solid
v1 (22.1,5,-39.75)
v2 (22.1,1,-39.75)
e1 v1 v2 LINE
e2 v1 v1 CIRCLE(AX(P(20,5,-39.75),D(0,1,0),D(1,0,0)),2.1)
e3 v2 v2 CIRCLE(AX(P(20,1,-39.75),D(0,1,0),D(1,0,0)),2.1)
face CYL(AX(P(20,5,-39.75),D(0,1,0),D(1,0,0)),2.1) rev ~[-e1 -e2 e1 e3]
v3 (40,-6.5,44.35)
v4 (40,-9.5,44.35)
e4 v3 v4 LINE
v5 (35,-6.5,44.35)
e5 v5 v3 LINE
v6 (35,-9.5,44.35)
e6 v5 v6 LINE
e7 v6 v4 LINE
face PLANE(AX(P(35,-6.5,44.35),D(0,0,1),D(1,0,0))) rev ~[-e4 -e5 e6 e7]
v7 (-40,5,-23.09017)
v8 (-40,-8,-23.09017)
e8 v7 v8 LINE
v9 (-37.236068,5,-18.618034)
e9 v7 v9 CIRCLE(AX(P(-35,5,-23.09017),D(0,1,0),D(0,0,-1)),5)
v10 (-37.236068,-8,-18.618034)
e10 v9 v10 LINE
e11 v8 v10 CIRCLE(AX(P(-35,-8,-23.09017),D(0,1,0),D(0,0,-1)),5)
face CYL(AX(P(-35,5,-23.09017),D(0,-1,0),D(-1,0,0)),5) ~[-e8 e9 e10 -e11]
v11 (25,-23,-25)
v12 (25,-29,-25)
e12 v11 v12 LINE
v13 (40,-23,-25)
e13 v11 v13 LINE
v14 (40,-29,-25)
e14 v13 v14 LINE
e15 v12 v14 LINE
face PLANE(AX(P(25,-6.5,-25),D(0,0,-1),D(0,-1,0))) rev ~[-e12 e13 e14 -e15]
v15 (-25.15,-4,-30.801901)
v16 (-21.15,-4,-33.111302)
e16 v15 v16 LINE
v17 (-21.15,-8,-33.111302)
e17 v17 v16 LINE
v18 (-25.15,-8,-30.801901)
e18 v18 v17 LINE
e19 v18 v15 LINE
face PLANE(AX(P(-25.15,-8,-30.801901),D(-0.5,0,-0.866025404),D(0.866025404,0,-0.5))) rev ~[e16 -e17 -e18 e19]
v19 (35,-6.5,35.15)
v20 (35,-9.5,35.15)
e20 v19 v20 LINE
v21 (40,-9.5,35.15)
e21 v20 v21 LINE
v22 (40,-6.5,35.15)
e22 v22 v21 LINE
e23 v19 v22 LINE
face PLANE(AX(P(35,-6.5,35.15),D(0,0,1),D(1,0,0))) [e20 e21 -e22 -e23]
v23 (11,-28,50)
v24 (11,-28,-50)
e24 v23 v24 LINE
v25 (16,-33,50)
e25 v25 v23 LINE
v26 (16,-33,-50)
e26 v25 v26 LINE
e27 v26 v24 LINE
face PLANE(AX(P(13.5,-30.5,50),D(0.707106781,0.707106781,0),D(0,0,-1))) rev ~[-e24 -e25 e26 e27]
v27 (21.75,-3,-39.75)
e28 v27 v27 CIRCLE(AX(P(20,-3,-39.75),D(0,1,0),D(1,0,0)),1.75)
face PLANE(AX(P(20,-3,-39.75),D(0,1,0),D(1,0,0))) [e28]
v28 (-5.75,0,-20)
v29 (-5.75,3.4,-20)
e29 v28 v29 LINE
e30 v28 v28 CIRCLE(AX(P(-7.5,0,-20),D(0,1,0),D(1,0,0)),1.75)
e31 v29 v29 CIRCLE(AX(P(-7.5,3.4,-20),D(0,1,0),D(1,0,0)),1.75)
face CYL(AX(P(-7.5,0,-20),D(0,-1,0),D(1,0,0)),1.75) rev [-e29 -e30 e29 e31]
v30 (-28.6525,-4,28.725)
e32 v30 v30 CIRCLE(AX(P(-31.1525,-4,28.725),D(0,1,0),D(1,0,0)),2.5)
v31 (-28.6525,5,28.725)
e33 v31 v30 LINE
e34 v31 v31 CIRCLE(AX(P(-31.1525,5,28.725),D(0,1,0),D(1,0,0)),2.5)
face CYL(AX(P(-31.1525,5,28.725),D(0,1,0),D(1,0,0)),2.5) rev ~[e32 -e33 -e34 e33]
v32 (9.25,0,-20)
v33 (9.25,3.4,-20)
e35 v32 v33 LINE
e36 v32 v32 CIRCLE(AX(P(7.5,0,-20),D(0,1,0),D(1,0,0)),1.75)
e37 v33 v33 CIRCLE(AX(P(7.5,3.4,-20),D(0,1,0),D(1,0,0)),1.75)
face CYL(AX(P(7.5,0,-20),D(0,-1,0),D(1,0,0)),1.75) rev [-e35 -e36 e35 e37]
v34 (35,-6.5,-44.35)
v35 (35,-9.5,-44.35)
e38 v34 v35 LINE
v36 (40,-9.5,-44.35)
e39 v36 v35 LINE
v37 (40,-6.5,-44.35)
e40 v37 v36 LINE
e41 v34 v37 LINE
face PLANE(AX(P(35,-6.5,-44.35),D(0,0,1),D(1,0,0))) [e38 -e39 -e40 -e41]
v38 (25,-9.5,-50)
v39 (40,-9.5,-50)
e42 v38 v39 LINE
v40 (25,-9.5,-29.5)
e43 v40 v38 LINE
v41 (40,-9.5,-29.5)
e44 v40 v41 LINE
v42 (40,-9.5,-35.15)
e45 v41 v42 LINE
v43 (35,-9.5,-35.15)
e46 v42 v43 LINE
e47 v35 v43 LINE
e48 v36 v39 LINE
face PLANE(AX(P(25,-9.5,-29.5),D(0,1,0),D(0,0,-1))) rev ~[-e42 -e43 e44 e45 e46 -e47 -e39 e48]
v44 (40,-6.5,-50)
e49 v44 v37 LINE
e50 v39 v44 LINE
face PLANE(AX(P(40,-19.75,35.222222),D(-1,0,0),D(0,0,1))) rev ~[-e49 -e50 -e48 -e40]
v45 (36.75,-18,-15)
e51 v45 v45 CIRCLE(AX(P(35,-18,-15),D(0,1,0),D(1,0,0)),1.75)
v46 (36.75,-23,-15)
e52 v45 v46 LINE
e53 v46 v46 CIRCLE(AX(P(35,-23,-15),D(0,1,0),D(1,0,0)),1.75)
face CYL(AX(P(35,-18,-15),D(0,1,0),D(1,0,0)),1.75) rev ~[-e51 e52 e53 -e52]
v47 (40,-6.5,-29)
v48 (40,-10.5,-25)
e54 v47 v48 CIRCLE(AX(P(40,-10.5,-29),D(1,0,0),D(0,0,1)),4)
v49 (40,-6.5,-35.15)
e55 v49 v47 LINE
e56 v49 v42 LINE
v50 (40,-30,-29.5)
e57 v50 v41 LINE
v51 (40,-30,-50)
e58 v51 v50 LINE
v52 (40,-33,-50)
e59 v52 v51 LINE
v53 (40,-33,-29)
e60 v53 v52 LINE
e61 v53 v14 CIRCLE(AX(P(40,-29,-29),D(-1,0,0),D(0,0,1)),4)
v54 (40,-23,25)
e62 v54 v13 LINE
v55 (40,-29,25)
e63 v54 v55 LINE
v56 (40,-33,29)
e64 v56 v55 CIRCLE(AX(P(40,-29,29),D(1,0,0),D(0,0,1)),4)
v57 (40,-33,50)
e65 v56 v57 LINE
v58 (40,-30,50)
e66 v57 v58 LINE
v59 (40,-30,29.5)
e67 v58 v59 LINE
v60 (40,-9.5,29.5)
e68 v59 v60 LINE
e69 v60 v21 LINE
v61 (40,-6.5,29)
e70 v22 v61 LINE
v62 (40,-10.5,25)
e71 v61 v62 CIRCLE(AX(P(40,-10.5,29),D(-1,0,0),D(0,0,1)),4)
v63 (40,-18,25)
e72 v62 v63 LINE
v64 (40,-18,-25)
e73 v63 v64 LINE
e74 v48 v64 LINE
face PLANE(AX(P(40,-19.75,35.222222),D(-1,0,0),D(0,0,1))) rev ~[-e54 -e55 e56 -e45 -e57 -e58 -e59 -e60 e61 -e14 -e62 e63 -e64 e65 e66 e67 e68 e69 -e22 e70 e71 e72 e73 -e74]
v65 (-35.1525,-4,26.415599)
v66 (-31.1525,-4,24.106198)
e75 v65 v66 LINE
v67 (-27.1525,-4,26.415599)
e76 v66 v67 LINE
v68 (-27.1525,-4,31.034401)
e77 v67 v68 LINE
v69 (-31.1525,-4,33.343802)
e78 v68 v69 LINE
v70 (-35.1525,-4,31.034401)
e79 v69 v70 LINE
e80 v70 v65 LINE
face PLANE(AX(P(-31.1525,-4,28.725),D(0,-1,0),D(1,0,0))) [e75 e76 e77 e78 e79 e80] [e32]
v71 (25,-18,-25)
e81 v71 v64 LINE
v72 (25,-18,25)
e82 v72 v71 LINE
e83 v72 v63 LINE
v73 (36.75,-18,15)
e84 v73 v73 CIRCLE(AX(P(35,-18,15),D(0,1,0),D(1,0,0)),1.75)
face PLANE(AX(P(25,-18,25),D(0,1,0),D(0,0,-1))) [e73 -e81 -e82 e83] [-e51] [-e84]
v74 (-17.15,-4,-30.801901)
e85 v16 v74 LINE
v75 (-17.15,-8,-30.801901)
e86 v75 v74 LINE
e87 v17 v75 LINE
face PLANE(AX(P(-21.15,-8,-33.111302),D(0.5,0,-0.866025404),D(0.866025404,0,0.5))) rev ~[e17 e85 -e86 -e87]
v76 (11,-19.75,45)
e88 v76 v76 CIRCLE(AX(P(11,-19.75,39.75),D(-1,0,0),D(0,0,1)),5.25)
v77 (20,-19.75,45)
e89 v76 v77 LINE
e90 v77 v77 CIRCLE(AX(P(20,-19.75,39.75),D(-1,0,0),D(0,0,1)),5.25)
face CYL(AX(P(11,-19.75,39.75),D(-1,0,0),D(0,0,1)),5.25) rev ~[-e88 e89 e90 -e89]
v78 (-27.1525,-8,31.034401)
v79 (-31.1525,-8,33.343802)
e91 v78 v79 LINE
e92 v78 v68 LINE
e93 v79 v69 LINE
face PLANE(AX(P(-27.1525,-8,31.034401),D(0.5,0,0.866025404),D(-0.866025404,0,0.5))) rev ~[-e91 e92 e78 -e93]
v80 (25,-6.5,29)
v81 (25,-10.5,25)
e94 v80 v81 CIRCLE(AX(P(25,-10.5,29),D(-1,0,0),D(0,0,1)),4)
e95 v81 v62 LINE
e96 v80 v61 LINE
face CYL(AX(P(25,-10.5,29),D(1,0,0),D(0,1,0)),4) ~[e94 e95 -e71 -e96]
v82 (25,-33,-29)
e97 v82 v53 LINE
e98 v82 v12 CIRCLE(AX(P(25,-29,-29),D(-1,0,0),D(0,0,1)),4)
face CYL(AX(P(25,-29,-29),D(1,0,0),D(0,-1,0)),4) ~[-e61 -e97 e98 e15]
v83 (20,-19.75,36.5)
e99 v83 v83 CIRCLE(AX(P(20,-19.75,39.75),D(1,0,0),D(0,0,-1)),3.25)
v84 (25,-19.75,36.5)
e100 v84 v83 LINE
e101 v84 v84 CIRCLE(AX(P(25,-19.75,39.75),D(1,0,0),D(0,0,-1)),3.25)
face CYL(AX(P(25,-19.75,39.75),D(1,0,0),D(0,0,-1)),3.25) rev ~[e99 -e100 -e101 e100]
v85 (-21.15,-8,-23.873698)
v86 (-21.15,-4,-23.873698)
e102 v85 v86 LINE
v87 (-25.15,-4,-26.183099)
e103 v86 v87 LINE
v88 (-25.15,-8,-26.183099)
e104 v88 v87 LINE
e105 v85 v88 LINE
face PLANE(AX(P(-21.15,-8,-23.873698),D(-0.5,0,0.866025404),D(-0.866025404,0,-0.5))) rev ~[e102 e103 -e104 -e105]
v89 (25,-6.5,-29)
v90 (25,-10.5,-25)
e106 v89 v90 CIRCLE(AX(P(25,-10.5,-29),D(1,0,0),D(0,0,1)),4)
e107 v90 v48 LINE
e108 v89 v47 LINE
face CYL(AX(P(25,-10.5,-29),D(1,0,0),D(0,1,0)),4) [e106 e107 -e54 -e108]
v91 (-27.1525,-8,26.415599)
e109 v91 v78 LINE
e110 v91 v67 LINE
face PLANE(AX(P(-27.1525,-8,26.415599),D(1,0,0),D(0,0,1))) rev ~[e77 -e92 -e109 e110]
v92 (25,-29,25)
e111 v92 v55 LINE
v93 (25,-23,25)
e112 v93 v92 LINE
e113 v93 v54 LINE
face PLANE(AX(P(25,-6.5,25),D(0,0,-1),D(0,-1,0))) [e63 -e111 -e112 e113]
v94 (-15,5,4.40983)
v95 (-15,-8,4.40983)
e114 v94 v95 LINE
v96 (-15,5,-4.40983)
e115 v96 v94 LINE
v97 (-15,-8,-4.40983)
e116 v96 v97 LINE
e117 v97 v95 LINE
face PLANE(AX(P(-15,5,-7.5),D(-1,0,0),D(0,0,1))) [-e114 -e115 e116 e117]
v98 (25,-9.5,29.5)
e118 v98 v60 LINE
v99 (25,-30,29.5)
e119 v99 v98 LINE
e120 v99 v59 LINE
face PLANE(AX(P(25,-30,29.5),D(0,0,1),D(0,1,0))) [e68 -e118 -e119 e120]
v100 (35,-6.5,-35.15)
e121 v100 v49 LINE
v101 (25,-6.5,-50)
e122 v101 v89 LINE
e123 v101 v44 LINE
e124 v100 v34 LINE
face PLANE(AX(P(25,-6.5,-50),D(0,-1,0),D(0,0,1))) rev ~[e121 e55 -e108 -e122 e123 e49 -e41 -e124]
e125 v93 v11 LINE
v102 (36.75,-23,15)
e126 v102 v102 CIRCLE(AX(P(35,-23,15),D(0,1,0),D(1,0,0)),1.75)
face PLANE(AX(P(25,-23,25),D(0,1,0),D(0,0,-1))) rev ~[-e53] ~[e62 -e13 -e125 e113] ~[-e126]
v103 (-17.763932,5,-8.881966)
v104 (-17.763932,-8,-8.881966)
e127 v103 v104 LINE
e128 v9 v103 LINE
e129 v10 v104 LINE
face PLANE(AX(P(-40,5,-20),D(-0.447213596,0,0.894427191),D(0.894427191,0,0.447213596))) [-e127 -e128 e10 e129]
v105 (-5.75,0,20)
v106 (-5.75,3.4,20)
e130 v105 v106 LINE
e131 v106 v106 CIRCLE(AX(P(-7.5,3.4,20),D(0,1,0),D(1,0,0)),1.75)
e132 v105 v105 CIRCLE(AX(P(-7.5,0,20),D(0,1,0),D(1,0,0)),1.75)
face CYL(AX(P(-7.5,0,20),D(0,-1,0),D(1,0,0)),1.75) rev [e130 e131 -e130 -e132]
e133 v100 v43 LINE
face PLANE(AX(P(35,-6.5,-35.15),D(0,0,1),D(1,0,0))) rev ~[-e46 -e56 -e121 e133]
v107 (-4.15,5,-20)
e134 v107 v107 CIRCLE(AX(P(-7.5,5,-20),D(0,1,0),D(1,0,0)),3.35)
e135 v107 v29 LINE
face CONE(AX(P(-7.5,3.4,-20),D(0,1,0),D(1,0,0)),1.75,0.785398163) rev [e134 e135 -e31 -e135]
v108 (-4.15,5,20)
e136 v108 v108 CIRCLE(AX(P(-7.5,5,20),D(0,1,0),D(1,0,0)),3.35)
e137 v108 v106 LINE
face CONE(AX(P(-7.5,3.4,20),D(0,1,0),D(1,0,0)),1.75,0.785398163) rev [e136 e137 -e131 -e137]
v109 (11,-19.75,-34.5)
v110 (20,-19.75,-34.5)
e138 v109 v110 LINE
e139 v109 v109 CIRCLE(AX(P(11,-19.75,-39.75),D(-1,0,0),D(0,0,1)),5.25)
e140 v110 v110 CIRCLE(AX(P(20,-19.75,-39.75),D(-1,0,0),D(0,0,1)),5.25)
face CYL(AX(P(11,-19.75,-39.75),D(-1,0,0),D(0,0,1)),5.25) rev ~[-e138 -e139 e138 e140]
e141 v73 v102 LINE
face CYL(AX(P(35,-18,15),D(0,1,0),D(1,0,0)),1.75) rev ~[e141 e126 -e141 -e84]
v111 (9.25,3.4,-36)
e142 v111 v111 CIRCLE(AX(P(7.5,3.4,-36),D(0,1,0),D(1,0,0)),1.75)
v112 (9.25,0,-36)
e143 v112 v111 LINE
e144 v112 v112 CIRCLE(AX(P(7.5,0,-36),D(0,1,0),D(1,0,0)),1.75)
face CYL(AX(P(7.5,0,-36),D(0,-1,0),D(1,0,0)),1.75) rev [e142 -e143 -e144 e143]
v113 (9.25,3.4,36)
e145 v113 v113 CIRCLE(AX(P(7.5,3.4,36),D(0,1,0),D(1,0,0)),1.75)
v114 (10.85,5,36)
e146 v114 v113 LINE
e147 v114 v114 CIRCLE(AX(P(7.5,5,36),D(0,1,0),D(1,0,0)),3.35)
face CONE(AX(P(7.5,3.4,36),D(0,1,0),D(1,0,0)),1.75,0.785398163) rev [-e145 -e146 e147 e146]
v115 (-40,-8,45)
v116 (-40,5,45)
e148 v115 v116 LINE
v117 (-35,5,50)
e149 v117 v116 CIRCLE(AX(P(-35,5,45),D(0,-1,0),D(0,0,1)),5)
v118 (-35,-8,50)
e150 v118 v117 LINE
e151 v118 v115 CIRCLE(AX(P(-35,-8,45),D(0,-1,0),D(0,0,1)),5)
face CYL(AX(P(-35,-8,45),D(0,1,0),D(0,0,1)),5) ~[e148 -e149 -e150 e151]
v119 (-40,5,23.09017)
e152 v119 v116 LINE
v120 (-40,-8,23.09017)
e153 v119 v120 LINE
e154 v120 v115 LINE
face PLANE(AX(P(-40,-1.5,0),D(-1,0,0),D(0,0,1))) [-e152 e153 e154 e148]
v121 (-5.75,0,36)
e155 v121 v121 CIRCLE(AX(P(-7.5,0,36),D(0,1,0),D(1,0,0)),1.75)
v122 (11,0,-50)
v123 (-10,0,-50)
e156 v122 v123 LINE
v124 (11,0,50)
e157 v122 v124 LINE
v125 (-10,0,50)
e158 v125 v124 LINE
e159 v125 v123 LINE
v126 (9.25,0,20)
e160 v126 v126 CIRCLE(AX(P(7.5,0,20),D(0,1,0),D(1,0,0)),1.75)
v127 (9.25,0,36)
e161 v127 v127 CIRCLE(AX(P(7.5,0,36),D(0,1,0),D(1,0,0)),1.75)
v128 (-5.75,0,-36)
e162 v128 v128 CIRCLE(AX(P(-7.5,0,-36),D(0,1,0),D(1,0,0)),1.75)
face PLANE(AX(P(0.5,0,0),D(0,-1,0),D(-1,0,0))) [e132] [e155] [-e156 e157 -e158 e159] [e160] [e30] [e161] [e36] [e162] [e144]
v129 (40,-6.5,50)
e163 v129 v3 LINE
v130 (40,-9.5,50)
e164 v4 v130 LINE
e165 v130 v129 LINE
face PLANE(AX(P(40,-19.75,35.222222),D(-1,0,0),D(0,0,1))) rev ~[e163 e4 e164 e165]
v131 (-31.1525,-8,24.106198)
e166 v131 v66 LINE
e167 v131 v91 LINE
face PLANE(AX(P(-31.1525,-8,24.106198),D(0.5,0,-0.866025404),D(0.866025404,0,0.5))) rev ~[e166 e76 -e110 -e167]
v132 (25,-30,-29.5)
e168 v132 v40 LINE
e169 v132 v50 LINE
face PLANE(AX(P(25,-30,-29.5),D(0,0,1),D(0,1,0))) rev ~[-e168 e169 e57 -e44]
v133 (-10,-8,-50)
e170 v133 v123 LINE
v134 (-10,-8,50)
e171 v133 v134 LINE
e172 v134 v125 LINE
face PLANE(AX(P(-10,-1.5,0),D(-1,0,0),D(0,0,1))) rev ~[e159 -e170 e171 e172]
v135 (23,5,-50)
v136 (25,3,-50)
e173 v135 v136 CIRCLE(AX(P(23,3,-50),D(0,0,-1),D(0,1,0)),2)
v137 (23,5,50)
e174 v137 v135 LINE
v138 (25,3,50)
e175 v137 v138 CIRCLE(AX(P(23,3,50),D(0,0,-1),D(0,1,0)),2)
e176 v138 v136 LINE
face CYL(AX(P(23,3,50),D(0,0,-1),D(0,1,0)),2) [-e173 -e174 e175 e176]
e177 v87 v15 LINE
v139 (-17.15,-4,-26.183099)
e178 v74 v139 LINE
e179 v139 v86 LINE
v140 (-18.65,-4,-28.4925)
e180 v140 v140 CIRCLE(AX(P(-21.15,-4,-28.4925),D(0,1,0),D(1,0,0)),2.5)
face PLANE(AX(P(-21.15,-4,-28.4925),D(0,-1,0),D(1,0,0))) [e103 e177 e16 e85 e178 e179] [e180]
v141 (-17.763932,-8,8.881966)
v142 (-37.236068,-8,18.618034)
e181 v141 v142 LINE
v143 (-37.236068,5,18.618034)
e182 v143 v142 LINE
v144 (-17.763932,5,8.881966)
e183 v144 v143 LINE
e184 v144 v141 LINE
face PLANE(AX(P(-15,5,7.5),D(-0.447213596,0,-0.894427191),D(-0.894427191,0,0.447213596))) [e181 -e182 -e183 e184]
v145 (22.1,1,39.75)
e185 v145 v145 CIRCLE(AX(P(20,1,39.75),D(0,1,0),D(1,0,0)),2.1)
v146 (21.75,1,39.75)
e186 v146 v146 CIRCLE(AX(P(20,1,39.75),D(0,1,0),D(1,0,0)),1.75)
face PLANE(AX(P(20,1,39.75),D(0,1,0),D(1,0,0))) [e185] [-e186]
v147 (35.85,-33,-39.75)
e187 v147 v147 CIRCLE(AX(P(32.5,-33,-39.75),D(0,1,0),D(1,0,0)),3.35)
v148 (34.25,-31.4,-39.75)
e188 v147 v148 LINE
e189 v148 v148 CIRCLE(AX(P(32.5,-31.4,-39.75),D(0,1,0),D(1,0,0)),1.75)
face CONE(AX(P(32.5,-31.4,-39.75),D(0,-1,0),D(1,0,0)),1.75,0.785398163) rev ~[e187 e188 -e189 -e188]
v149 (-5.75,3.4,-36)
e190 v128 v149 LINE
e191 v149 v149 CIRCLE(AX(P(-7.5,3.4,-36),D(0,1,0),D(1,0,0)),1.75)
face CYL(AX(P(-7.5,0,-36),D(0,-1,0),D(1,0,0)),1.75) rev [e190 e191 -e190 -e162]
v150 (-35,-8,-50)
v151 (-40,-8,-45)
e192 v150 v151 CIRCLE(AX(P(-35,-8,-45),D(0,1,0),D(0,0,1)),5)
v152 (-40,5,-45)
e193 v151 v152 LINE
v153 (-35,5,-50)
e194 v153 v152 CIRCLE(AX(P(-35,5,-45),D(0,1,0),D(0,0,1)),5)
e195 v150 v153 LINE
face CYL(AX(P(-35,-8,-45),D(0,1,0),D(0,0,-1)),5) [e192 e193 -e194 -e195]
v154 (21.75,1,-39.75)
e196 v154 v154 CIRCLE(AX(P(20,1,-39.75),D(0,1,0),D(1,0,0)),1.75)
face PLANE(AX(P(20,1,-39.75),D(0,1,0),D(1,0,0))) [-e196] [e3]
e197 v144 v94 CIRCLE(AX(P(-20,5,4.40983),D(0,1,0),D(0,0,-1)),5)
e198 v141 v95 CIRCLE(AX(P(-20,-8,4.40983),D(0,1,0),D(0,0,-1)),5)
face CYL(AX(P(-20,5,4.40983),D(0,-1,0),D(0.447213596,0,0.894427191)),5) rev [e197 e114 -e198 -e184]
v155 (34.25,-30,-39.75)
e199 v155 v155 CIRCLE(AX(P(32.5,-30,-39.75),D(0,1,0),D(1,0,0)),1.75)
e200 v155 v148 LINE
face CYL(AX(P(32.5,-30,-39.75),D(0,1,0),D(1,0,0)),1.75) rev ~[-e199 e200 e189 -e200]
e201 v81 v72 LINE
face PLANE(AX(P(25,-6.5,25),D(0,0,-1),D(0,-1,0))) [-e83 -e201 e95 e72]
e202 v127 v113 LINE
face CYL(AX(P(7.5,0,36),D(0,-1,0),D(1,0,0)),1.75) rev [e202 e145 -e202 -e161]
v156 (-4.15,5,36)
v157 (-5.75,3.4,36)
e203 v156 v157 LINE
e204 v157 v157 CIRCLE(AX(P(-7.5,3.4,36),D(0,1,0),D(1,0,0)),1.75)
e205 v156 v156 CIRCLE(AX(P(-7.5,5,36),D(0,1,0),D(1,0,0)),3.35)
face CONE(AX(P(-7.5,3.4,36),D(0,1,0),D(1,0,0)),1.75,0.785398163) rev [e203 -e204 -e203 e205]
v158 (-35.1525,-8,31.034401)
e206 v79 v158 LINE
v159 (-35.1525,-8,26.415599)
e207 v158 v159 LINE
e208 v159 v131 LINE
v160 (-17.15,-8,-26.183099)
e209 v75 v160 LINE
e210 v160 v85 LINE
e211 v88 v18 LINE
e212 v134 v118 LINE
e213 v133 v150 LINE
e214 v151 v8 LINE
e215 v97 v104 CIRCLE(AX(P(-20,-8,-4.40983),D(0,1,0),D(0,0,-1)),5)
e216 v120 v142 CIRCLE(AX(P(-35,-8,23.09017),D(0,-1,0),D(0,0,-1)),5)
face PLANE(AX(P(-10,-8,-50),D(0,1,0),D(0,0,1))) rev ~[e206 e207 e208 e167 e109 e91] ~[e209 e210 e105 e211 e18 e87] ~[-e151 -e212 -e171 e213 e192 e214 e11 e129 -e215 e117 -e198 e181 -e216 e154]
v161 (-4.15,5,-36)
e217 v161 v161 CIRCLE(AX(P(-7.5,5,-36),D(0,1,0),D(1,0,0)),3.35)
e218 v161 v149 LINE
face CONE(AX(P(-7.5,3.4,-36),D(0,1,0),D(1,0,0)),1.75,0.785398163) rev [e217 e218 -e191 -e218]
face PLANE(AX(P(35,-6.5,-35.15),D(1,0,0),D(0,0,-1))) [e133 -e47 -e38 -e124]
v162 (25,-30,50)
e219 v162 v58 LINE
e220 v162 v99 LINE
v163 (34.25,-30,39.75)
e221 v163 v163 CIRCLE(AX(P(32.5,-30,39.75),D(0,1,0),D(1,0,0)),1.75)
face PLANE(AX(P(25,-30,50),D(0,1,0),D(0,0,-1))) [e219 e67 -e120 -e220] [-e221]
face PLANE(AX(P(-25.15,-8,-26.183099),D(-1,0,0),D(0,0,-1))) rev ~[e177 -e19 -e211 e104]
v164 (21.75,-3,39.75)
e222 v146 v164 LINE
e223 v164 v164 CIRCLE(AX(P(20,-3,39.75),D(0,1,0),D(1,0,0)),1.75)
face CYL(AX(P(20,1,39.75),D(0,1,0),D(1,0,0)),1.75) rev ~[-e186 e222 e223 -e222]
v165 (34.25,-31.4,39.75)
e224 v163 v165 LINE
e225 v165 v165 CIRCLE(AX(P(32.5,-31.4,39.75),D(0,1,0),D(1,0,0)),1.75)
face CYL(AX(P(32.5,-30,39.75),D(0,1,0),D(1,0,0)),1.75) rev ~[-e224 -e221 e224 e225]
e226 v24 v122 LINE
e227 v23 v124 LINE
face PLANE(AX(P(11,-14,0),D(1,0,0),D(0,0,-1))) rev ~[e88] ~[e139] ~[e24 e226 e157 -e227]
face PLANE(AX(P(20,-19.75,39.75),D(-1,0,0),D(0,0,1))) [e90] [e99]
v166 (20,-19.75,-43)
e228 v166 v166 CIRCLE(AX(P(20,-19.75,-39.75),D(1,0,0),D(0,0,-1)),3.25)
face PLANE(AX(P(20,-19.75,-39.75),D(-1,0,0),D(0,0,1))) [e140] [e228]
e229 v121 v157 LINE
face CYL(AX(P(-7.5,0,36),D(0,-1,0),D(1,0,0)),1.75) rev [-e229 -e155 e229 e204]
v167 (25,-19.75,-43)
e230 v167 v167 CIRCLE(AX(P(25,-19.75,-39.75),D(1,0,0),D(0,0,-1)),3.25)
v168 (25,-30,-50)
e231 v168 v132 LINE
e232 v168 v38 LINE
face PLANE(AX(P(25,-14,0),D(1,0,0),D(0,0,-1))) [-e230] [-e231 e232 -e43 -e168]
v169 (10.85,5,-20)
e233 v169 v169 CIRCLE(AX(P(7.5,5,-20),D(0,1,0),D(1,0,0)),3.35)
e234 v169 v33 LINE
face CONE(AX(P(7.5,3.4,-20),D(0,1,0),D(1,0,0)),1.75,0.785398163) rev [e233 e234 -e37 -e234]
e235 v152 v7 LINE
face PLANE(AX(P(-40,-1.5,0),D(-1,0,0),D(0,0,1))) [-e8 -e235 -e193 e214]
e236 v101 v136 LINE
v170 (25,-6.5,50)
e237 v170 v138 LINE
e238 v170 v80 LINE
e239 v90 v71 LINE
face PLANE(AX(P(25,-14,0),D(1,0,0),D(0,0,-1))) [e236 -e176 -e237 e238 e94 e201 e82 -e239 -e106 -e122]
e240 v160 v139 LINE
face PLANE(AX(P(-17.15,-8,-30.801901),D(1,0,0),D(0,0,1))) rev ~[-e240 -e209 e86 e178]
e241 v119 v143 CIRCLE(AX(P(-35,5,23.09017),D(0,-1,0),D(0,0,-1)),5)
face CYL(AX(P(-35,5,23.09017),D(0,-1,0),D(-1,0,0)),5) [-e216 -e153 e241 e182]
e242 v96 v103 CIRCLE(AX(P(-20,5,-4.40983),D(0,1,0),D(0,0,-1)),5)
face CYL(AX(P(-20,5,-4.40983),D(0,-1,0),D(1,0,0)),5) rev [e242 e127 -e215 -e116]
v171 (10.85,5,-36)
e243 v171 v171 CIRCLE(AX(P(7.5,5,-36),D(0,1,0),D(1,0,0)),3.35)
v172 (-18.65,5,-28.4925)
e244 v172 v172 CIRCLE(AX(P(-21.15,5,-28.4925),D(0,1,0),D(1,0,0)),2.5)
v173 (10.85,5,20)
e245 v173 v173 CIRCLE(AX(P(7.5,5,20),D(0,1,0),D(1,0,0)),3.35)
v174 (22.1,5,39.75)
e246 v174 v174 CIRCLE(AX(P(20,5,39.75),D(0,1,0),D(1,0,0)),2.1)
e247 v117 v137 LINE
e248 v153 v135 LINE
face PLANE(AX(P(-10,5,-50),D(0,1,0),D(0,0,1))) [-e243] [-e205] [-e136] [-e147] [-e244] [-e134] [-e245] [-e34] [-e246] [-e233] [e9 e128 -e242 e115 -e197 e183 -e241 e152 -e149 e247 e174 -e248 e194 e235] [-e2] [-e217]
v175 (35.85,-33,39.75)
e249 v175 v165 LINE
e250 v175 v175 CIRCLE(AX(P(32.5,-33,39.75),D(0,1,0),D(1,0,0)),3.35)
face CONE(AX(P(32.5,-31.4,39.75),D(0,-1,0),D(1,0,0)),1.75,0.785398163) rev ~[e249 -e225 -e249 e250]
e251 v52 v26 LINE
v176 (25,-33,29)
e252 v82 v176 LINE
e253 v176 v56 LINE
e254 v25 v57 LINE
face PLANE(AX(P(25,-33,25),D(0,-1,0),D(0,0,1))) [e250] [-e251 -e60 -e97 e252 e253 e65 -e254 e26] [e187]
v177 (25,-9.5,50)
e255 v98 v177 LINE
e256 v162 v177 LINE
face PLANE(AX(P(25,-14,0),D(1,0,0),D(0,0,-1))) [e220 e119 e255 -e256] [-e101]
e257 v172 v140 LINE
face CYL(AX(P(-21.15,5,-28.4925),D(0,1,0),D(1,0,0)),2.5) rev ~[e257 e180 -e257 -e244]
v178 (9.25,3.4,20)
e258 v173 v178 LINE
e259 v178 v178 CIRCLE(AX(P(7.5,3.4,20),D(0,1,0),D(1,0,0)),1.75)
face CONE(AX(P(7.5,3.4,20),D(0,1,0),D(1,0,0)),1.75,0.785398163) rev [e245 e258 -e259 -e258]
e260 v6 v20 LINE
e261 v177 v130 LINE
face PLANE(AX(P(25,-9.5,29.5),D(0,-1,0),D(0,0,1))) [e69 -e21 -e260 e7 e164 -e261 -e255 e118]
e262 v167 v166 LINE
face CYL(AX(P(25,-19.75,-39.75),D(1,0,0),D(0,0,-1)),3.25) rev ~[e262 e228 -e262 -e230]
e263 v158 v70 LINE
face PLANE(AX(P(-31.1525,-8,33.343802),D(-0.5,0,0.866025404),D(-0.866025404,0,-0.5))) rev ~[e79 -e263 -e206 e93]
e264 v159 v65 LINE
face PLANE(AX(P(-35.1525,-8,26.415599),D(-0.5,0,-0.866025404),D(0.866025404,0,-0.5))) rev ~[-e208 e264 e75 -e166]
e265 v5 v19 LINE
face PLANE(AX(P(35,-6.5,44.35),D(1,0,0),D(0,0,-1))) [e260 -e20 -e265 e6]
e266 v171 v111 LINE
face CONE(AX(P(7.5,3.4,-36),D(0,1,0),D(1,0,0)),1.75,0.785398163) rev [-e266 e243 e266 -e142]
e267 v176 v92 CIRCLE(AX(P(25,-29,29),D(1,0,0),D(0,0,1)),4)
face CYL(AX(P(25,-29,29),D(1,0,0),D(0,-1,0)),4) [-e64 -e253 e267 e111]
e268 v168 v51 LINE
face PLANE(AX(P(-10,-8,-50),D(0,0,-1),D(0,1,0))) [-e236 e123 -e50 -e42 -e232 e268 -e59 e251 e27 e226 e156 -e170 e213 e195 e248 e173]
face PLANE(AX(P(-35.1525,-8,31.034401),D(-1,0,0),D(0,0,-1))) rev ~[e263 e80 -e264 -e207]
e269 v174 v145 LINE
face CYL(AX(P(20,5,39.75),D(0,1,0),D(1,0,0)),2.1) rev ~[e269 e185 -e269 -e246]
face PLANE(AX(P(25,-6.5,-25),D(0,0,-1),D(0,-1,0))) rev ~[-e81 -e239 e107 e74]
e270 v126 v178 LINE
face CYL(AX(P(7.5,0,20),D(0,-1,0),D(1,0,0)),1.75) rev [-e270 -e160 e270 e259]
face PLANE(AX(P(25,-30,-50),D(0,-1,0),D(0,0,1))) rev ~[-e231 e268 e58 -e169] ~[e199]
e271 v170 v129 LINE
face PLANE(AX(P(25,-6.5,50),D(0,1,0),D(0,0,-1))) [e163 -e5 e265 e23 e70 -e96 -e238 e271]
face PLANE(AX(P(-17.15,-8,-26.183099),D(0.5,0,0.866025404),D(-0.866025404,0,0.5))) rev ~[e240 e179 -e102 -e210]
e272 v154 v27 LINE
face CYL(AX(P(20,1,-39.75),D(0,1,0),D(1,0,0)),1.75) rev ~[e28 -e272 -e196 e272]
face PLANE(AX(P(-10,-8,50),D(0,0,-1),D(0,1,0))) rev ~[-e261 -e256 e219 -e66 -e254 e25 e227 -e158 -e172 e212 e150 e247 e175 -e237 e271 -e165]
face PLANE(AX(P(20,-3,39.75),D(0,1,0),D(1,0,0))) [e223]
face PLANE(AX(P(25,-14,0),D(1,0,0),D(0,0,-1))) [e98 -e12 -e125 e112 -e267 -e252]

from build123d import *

# Parameters (mm, degrees)
SKETCH1_R           = 1.75
BOSS_EXTRUDE1_DEPTH = 5
SKETCH2_W           = 100
SKETCH2_H           = 38
BOSS_EXTRUDE2_DEPTH = 14
SKETCH3_W           = 50
SKETCH3_H           = 5
BOSS_EXTRUDE3_DEPTH = 15
SKETCH4_R           = 1.75
CUT_EXTRUDE1_DEPTH  = 16
BOSS_EXTRUDE6_DEPTH = 15
SKETCH9_R           = 3.25
CUT_EXTRUDE3_DEPTH  = 36
SKETCH10_R          = 5.25
CUT_EXTRUDE4_DEPTH  = 9
CUT_EXTRUDE5_REACH  = 28.5
SKETCH11_W          = 5
SKETCH11_H          = 9.2
SKETCH12_R          = 1.75
CUT_EXTRUDE6_DEPTH  = 4
SKETCH13_W          = 100
SKETCH13_H          = 13
BOSS_EXTRUDE7_DEPTH = 30
SKETCH14_R          = 2.5
CUT_EXTRUDE7_DEPTH  = 39
CUT_EXTRUDE8_DEPTH  = 4
SKETCH16_R          = 2.1
CUT_EXTRUDE9_DEPTH  = 4
CHAMFER1_SIZE       = 1.6
CUT_EXTRUDE10_DEPTH = 39
CHAMFER2_SIZE       = 1.6
CHAMFER3_SIZE       = 5
SKETCH18_R          = 1.75
CUT_EXTRUDE11_DEPTH = 4
FILLET1_R           = 5
FILLET2_R           = 2
FILLET3_R           = 4


with BuildPart() as part:
    # Sketch1 → Boss-Extrude1 (new body)
    with BuildSketch(Plane(origin=(0, 0, 0), x_dir=(1, 0, 0), z_dir=(0, 1, 0))):
        Polygon((-10, 50), (10, 50), (11, 50), (11, -50), (10, -50), (-10, -50), align=None)
        with Locations((-7.5, 36)):
            Circle(SKETCH1_R, mode=Mode.SUBTRACT)
        with Locations((7.5, 36)):
            Circle(SKETCH1_R, mode=Mode.SUBTRACT)
        with Locations((-7.5, 20)):
            Circle(SKETCH1_R, mode=Mode.SUBTRACT)
        with Locations((7.5, 20)):
            Circle(SKETCH1_R, mode=Mode.SUBTRACT)
        with Locations((7.5, -20)):
            Circle(SKETCH1_R, mode=Mode.SUBTRACT)
        with Locations((-7.5, -20)):
            Circle(SKETCH1_R, mode=Mode.SUBTRACT)
        with Locations((7.5, -36)):
            Circle(SKETCH1_R, mode=Mode.SUBTRACT)
        with Locations((-7.5, -36)):
            Circle(SKETCH1_R, mode=Mode.SUBTRACT)
    extrude(amount=BOSS_EXTRUDE1_DEPTH)

    # Sketch2 → Boss-Extrude2 (add)
    with BuildSketch(Plane(origin=(11, 0, 0), x_dir=(0, 0, -1), z_dir=(1, 0, 0))):
        with Locations((0, -14)):
            Rectangle(SKETCH2_W, SKETCH2_H)
    extrude(amount=BOSS_EXTRUDE2_DEPTH)

    # Sketch3 → Boss-Extrude3 (add)
    with BuildSketch(Plane(origin=(25, 0, 0), x_dir=(0, 0, -1), z_dir=(1, 0, 0))):
        with Locations((0, -20.5)):
            Rectangle(SKETCH3_W, SKETCH3_H)
    extrude(amount=BOSS_EXTRUDE3_DEPTH)

    # Sketch4 → Cut-Extrude1 (cut, through all)
    with BuildSketch(Plane(origin=(0, -18, 0), x_dir=(1, 0, 0), z_dir=(0, 1, 0))):
        with Locations((35, 15)):
            Circle(SKETCH4_R)
        with Locations((35, -15)):
            Circle(SKETCH4_R)
    extrude(amount=-CUT_EXTRUDE1_DEPTH, mode=Mode.SUBTRACT)

    # Sketch8 → Boss-Extrude6 (add)
    with BuildSketch(Plane(origin=(25, 0, 0), x_dir=(0, 0, -1), z_dir=(1, 0, 0))):
        Polygon((-50, -6.5), (-25, -6.5), (-25, -33), (-50, -33), (-50, -30), (-29.5, -30), (-29.5, -9.5), (-50, -9.5), align=None)
        Polygon((29.5, -30), (29.5, -9.5), (50, -9.5), (50, -6.5), (25, -6.5), (25, -33), (50, -33), (50, -30), align=None)
    extrude(amount=BOSS_EXTRUDE6_DEPTH)

    # Sketch9 → Cut-Extrude3 (cut, through all)
    with BuildSketch(Plane(origin=(25, 0, 0), x_dir=(0, 0, -1), z_dir=(1, 0, 0))):
        with Locations((-39.75, -19.75)):
            Circle(SKETCH9_R)
        with Locations((39.75, -19.75)):
            Circle(SKETCH9_R)
    extrude(amount=-CUT_EXTRUDE3_DEPTH, mode=Mode.SUBTRACT)

    # Sketch10 → Cut-Extrude4 (cut)
    with BuildSketch(Plane.ZY.offset(-11)):
        with Locations((-39.75, -19.75)):
            Circle(SKETCH10_R)
        with Locations((39.75, -19.75)):
            Circle(SKETCH10_R)
    extrude(amount=-CUT_EXTRUDE4_DEPTH, mode=Mode.SUBTRACT)

    # Sketch11 → Cut-Extrude5 (cut, up to next)
    with BuildSketch(Plane(origin=(0, -6.5, 0), x_dir=(1, 0, 0), z_dir=(0, 1, 0)), mode=Mode.PRIVATE) as cut_extrude5_sk1:
        with Locations((37.5, -39.75)):
            Rectangle(SKETCH11_W, SKETCH11_H)
    cut_extrude5_tool1 = extrude(cut_extrude5_sk1.sketch, amount=-CUT_EXTRUDE5_REACH, mode=Mode.PRIVATE) & part.part
    add(cut_extrude5_tool1.solids().sort_by_distance((37.5, -6.5, 39.75))[0], mode=Mode.SUBTRACT)
    # Sketch11 → Cut-Extrude5 (cut, up to next)
    with BuildSketch(Plane(origin=(0, -6.5, 0), x_dir=(1, 0, 0), z_dir=(0, 1, 0)), mode=Mode.PRIVATE) as cut_extrude5_sk2:
        with Locations((37.5, 39.75)):
            Rectangle(SKETCH11_W, SKETCH11_H)
    cut_extrude5_tool2 = extrude(cut_extrude5_sk2.sketch, amount=-CUT_EXTRUDE5_REACH, mode=Mode.PRIVATE) & part.part
    add(cut_extrude5_tool2.solids().sort_by_distance((37.5, -6.5, -39.75))[0], mode=Mode.SUBTRACT)

    # Sketch12 → Cut-Extrude6 (cut, through all)
    with BuildSketch(Plane(origin=(0, -30, 0), x_dir=(1, 0, 0), z_dir=(0, 1, 0))):
        with Locations((32.5, -39.75)):
            Circle(SKETCH12_R)
        with Locations((32.5, 39.75)):
            Circle(SKETCH12_R)
    extrude(amount=-CUT_EXTRUDE6_DEPTH, mode=Mode.SUBTRACT)

    # Sketch13 → Boss-Extrude7 (add)
    with BuildSketch(Plane.ZY.offset(10)):
        with Locations((0, -1.5)):
            Rectangle(SKETCH13_W, SKETCH13_H)
    extrude(amount=BOSS_EXTRUDE7_DEPTH)

    # Sketch14 → Cut-Extrude7 (cut, through all)
    with BuildSketch(Plane(origin=(0, 5, 0), x_dir=(1, 0, 0), z_dir=(0, 1, 0))):
        with Locations((-21.15, 28.4925)):
            Circle(SKETCH14_R)
        with Locations((-31.1525, -28.725)):
            Circle(SKETCH14_R)
    extrude(amount=-CUT_EXTRUDE7_DEPTH, mode=Mode.SUBTRACT)

    # Sketch15 → Cut-Extrude8 (cut)
    with BuildSketch(Plane.XZ.offset(8)):
        Polygon((-27.1525, 26.415598923), (-27.1525, 31.034401077), (-31.1525, 33.343802154), (-35.1525, 31.034401077), (-35.1525, 26.415598923), (-31.1525, 24.106197846), align=None)
        Polygon((-25.15, -30.801901077), (-21.15, -33.111302154), (-17.15, -30.801901077), (-17.15, -26.183098923), (-21.15, -23.873697846), (-25.15, -26.183098923), align=None)
    extrude(amount=-CUT_EXTRUDE8_DEPTH, mode=Mode.SUBTRACT)

    # Sketch16 → Cut-Extrude9 (cut)
    with BuildSketch(Plane(origin=(0, 5, 0), x_dir=(1, 0, 0), z_dir=(0, 1, 0))):
        with Locations((20, 39.75)):
            Circle(SKETCH16_R)
        with Locations((20, -39.75)):
            Circle(SKETCH16_R)
    extrude(amount=-CUT_EXTRUDE9_DEPTH, mode=Mode.SUBTRACT)

    # Chamfer1
    chamfer1_edges = [part.edges().sort_by_distance(p)[0] for p in [
        (-9.25, 5, -36),
        (5.75, 5, -36),
        (-9.25, 5, -20),
        (5.75, 5, -20),
        (5.75, 5, 20),
        (-9.25, 5, 20),
        (5.75, 5, 36),
        (-9.25, 5, 36),
    ]]
    chamfer(chamfer1_edges, length=CHAMFER1_SIZE)

    # Sketch17 → Cut-Extrude10 (cut, through all)
    with BuildSketch(Plane(origin=(0, 5, 0), x_dir=(1, 0, 0), z_dir=(0, 1, 0))):
        Polygon((-40, 20), (-15, 7.5), (-15, -7.5), (-40, -20), align=None)
    extrude(amount=-CUT_EXTRUDE10_DEPTH, mode=Mode.SUBTRACT)

    # Chamfer2
    chamfer2_edges = [part.edges().sort_by_distance(p)[0] for p in [
        (30.75, -33, 39.75),
        (30.75, -33, -39.75),
    ]]
    chamfer(chamfer2_edges, length=CHAMFER2_SIZE)

    # Chamfer3
    chamfer3_edges = [part.edges().sort_by_distance(p)[0] for p in [
        (11, -33, 0),
    ]]
    chamfer(chamfer3_edges, length=CHAMFER3_SIZE)

    # Sketch18 → Cut-Extrude11 (cut)
    with BuildSketch(Plane(origin=(0, 1, 0), x_dir=(1, 0, 0), z_dir=(0, 1, 0))):
        with Locations((20, 39.75)):
            Circle(SKETCH18_R)
        with Locations((20, -39.75)):
            Circle(SKETCH18_R)
    extrude(amount=-CUT_EXTRUDE11_DEPTH, mode=Mode.SUBTRACT)

    # Fillet1
    fillet1_edges = [part.edges().sort_by_distance(p)[0] for p in [
        (-40, -1.5, -50),
        (-40, -1.5, 50),
        (-40, -1.5, 20),
        (-40, -1.5, -20),
        (-15, -1.5, -7.5),
        (-15, -1.5, 7.5),
    ]]
    fillet(fillet1_edges, radius=FILLET1_R)

    # Fillet2
    fillet2_edges = [part.edges().sort_by_distance(p)[0] for p in [
        (25, 5, 0),
    ]]
    fillet(fillet2_edges, radius=FILLET2_R)

    # Fillet3
    fillet3_edges = [part.edges().sort_by_distance(p)[0] for p in [
        (32.5, -6.5, -25),
        (32.5, -33, -25),
        (32.5, -33, 25),
        (32.5, -6.5, 25),
    ]]
    fillet(fillet3_edges, radius=FILLET3_R)


solid = part.part
